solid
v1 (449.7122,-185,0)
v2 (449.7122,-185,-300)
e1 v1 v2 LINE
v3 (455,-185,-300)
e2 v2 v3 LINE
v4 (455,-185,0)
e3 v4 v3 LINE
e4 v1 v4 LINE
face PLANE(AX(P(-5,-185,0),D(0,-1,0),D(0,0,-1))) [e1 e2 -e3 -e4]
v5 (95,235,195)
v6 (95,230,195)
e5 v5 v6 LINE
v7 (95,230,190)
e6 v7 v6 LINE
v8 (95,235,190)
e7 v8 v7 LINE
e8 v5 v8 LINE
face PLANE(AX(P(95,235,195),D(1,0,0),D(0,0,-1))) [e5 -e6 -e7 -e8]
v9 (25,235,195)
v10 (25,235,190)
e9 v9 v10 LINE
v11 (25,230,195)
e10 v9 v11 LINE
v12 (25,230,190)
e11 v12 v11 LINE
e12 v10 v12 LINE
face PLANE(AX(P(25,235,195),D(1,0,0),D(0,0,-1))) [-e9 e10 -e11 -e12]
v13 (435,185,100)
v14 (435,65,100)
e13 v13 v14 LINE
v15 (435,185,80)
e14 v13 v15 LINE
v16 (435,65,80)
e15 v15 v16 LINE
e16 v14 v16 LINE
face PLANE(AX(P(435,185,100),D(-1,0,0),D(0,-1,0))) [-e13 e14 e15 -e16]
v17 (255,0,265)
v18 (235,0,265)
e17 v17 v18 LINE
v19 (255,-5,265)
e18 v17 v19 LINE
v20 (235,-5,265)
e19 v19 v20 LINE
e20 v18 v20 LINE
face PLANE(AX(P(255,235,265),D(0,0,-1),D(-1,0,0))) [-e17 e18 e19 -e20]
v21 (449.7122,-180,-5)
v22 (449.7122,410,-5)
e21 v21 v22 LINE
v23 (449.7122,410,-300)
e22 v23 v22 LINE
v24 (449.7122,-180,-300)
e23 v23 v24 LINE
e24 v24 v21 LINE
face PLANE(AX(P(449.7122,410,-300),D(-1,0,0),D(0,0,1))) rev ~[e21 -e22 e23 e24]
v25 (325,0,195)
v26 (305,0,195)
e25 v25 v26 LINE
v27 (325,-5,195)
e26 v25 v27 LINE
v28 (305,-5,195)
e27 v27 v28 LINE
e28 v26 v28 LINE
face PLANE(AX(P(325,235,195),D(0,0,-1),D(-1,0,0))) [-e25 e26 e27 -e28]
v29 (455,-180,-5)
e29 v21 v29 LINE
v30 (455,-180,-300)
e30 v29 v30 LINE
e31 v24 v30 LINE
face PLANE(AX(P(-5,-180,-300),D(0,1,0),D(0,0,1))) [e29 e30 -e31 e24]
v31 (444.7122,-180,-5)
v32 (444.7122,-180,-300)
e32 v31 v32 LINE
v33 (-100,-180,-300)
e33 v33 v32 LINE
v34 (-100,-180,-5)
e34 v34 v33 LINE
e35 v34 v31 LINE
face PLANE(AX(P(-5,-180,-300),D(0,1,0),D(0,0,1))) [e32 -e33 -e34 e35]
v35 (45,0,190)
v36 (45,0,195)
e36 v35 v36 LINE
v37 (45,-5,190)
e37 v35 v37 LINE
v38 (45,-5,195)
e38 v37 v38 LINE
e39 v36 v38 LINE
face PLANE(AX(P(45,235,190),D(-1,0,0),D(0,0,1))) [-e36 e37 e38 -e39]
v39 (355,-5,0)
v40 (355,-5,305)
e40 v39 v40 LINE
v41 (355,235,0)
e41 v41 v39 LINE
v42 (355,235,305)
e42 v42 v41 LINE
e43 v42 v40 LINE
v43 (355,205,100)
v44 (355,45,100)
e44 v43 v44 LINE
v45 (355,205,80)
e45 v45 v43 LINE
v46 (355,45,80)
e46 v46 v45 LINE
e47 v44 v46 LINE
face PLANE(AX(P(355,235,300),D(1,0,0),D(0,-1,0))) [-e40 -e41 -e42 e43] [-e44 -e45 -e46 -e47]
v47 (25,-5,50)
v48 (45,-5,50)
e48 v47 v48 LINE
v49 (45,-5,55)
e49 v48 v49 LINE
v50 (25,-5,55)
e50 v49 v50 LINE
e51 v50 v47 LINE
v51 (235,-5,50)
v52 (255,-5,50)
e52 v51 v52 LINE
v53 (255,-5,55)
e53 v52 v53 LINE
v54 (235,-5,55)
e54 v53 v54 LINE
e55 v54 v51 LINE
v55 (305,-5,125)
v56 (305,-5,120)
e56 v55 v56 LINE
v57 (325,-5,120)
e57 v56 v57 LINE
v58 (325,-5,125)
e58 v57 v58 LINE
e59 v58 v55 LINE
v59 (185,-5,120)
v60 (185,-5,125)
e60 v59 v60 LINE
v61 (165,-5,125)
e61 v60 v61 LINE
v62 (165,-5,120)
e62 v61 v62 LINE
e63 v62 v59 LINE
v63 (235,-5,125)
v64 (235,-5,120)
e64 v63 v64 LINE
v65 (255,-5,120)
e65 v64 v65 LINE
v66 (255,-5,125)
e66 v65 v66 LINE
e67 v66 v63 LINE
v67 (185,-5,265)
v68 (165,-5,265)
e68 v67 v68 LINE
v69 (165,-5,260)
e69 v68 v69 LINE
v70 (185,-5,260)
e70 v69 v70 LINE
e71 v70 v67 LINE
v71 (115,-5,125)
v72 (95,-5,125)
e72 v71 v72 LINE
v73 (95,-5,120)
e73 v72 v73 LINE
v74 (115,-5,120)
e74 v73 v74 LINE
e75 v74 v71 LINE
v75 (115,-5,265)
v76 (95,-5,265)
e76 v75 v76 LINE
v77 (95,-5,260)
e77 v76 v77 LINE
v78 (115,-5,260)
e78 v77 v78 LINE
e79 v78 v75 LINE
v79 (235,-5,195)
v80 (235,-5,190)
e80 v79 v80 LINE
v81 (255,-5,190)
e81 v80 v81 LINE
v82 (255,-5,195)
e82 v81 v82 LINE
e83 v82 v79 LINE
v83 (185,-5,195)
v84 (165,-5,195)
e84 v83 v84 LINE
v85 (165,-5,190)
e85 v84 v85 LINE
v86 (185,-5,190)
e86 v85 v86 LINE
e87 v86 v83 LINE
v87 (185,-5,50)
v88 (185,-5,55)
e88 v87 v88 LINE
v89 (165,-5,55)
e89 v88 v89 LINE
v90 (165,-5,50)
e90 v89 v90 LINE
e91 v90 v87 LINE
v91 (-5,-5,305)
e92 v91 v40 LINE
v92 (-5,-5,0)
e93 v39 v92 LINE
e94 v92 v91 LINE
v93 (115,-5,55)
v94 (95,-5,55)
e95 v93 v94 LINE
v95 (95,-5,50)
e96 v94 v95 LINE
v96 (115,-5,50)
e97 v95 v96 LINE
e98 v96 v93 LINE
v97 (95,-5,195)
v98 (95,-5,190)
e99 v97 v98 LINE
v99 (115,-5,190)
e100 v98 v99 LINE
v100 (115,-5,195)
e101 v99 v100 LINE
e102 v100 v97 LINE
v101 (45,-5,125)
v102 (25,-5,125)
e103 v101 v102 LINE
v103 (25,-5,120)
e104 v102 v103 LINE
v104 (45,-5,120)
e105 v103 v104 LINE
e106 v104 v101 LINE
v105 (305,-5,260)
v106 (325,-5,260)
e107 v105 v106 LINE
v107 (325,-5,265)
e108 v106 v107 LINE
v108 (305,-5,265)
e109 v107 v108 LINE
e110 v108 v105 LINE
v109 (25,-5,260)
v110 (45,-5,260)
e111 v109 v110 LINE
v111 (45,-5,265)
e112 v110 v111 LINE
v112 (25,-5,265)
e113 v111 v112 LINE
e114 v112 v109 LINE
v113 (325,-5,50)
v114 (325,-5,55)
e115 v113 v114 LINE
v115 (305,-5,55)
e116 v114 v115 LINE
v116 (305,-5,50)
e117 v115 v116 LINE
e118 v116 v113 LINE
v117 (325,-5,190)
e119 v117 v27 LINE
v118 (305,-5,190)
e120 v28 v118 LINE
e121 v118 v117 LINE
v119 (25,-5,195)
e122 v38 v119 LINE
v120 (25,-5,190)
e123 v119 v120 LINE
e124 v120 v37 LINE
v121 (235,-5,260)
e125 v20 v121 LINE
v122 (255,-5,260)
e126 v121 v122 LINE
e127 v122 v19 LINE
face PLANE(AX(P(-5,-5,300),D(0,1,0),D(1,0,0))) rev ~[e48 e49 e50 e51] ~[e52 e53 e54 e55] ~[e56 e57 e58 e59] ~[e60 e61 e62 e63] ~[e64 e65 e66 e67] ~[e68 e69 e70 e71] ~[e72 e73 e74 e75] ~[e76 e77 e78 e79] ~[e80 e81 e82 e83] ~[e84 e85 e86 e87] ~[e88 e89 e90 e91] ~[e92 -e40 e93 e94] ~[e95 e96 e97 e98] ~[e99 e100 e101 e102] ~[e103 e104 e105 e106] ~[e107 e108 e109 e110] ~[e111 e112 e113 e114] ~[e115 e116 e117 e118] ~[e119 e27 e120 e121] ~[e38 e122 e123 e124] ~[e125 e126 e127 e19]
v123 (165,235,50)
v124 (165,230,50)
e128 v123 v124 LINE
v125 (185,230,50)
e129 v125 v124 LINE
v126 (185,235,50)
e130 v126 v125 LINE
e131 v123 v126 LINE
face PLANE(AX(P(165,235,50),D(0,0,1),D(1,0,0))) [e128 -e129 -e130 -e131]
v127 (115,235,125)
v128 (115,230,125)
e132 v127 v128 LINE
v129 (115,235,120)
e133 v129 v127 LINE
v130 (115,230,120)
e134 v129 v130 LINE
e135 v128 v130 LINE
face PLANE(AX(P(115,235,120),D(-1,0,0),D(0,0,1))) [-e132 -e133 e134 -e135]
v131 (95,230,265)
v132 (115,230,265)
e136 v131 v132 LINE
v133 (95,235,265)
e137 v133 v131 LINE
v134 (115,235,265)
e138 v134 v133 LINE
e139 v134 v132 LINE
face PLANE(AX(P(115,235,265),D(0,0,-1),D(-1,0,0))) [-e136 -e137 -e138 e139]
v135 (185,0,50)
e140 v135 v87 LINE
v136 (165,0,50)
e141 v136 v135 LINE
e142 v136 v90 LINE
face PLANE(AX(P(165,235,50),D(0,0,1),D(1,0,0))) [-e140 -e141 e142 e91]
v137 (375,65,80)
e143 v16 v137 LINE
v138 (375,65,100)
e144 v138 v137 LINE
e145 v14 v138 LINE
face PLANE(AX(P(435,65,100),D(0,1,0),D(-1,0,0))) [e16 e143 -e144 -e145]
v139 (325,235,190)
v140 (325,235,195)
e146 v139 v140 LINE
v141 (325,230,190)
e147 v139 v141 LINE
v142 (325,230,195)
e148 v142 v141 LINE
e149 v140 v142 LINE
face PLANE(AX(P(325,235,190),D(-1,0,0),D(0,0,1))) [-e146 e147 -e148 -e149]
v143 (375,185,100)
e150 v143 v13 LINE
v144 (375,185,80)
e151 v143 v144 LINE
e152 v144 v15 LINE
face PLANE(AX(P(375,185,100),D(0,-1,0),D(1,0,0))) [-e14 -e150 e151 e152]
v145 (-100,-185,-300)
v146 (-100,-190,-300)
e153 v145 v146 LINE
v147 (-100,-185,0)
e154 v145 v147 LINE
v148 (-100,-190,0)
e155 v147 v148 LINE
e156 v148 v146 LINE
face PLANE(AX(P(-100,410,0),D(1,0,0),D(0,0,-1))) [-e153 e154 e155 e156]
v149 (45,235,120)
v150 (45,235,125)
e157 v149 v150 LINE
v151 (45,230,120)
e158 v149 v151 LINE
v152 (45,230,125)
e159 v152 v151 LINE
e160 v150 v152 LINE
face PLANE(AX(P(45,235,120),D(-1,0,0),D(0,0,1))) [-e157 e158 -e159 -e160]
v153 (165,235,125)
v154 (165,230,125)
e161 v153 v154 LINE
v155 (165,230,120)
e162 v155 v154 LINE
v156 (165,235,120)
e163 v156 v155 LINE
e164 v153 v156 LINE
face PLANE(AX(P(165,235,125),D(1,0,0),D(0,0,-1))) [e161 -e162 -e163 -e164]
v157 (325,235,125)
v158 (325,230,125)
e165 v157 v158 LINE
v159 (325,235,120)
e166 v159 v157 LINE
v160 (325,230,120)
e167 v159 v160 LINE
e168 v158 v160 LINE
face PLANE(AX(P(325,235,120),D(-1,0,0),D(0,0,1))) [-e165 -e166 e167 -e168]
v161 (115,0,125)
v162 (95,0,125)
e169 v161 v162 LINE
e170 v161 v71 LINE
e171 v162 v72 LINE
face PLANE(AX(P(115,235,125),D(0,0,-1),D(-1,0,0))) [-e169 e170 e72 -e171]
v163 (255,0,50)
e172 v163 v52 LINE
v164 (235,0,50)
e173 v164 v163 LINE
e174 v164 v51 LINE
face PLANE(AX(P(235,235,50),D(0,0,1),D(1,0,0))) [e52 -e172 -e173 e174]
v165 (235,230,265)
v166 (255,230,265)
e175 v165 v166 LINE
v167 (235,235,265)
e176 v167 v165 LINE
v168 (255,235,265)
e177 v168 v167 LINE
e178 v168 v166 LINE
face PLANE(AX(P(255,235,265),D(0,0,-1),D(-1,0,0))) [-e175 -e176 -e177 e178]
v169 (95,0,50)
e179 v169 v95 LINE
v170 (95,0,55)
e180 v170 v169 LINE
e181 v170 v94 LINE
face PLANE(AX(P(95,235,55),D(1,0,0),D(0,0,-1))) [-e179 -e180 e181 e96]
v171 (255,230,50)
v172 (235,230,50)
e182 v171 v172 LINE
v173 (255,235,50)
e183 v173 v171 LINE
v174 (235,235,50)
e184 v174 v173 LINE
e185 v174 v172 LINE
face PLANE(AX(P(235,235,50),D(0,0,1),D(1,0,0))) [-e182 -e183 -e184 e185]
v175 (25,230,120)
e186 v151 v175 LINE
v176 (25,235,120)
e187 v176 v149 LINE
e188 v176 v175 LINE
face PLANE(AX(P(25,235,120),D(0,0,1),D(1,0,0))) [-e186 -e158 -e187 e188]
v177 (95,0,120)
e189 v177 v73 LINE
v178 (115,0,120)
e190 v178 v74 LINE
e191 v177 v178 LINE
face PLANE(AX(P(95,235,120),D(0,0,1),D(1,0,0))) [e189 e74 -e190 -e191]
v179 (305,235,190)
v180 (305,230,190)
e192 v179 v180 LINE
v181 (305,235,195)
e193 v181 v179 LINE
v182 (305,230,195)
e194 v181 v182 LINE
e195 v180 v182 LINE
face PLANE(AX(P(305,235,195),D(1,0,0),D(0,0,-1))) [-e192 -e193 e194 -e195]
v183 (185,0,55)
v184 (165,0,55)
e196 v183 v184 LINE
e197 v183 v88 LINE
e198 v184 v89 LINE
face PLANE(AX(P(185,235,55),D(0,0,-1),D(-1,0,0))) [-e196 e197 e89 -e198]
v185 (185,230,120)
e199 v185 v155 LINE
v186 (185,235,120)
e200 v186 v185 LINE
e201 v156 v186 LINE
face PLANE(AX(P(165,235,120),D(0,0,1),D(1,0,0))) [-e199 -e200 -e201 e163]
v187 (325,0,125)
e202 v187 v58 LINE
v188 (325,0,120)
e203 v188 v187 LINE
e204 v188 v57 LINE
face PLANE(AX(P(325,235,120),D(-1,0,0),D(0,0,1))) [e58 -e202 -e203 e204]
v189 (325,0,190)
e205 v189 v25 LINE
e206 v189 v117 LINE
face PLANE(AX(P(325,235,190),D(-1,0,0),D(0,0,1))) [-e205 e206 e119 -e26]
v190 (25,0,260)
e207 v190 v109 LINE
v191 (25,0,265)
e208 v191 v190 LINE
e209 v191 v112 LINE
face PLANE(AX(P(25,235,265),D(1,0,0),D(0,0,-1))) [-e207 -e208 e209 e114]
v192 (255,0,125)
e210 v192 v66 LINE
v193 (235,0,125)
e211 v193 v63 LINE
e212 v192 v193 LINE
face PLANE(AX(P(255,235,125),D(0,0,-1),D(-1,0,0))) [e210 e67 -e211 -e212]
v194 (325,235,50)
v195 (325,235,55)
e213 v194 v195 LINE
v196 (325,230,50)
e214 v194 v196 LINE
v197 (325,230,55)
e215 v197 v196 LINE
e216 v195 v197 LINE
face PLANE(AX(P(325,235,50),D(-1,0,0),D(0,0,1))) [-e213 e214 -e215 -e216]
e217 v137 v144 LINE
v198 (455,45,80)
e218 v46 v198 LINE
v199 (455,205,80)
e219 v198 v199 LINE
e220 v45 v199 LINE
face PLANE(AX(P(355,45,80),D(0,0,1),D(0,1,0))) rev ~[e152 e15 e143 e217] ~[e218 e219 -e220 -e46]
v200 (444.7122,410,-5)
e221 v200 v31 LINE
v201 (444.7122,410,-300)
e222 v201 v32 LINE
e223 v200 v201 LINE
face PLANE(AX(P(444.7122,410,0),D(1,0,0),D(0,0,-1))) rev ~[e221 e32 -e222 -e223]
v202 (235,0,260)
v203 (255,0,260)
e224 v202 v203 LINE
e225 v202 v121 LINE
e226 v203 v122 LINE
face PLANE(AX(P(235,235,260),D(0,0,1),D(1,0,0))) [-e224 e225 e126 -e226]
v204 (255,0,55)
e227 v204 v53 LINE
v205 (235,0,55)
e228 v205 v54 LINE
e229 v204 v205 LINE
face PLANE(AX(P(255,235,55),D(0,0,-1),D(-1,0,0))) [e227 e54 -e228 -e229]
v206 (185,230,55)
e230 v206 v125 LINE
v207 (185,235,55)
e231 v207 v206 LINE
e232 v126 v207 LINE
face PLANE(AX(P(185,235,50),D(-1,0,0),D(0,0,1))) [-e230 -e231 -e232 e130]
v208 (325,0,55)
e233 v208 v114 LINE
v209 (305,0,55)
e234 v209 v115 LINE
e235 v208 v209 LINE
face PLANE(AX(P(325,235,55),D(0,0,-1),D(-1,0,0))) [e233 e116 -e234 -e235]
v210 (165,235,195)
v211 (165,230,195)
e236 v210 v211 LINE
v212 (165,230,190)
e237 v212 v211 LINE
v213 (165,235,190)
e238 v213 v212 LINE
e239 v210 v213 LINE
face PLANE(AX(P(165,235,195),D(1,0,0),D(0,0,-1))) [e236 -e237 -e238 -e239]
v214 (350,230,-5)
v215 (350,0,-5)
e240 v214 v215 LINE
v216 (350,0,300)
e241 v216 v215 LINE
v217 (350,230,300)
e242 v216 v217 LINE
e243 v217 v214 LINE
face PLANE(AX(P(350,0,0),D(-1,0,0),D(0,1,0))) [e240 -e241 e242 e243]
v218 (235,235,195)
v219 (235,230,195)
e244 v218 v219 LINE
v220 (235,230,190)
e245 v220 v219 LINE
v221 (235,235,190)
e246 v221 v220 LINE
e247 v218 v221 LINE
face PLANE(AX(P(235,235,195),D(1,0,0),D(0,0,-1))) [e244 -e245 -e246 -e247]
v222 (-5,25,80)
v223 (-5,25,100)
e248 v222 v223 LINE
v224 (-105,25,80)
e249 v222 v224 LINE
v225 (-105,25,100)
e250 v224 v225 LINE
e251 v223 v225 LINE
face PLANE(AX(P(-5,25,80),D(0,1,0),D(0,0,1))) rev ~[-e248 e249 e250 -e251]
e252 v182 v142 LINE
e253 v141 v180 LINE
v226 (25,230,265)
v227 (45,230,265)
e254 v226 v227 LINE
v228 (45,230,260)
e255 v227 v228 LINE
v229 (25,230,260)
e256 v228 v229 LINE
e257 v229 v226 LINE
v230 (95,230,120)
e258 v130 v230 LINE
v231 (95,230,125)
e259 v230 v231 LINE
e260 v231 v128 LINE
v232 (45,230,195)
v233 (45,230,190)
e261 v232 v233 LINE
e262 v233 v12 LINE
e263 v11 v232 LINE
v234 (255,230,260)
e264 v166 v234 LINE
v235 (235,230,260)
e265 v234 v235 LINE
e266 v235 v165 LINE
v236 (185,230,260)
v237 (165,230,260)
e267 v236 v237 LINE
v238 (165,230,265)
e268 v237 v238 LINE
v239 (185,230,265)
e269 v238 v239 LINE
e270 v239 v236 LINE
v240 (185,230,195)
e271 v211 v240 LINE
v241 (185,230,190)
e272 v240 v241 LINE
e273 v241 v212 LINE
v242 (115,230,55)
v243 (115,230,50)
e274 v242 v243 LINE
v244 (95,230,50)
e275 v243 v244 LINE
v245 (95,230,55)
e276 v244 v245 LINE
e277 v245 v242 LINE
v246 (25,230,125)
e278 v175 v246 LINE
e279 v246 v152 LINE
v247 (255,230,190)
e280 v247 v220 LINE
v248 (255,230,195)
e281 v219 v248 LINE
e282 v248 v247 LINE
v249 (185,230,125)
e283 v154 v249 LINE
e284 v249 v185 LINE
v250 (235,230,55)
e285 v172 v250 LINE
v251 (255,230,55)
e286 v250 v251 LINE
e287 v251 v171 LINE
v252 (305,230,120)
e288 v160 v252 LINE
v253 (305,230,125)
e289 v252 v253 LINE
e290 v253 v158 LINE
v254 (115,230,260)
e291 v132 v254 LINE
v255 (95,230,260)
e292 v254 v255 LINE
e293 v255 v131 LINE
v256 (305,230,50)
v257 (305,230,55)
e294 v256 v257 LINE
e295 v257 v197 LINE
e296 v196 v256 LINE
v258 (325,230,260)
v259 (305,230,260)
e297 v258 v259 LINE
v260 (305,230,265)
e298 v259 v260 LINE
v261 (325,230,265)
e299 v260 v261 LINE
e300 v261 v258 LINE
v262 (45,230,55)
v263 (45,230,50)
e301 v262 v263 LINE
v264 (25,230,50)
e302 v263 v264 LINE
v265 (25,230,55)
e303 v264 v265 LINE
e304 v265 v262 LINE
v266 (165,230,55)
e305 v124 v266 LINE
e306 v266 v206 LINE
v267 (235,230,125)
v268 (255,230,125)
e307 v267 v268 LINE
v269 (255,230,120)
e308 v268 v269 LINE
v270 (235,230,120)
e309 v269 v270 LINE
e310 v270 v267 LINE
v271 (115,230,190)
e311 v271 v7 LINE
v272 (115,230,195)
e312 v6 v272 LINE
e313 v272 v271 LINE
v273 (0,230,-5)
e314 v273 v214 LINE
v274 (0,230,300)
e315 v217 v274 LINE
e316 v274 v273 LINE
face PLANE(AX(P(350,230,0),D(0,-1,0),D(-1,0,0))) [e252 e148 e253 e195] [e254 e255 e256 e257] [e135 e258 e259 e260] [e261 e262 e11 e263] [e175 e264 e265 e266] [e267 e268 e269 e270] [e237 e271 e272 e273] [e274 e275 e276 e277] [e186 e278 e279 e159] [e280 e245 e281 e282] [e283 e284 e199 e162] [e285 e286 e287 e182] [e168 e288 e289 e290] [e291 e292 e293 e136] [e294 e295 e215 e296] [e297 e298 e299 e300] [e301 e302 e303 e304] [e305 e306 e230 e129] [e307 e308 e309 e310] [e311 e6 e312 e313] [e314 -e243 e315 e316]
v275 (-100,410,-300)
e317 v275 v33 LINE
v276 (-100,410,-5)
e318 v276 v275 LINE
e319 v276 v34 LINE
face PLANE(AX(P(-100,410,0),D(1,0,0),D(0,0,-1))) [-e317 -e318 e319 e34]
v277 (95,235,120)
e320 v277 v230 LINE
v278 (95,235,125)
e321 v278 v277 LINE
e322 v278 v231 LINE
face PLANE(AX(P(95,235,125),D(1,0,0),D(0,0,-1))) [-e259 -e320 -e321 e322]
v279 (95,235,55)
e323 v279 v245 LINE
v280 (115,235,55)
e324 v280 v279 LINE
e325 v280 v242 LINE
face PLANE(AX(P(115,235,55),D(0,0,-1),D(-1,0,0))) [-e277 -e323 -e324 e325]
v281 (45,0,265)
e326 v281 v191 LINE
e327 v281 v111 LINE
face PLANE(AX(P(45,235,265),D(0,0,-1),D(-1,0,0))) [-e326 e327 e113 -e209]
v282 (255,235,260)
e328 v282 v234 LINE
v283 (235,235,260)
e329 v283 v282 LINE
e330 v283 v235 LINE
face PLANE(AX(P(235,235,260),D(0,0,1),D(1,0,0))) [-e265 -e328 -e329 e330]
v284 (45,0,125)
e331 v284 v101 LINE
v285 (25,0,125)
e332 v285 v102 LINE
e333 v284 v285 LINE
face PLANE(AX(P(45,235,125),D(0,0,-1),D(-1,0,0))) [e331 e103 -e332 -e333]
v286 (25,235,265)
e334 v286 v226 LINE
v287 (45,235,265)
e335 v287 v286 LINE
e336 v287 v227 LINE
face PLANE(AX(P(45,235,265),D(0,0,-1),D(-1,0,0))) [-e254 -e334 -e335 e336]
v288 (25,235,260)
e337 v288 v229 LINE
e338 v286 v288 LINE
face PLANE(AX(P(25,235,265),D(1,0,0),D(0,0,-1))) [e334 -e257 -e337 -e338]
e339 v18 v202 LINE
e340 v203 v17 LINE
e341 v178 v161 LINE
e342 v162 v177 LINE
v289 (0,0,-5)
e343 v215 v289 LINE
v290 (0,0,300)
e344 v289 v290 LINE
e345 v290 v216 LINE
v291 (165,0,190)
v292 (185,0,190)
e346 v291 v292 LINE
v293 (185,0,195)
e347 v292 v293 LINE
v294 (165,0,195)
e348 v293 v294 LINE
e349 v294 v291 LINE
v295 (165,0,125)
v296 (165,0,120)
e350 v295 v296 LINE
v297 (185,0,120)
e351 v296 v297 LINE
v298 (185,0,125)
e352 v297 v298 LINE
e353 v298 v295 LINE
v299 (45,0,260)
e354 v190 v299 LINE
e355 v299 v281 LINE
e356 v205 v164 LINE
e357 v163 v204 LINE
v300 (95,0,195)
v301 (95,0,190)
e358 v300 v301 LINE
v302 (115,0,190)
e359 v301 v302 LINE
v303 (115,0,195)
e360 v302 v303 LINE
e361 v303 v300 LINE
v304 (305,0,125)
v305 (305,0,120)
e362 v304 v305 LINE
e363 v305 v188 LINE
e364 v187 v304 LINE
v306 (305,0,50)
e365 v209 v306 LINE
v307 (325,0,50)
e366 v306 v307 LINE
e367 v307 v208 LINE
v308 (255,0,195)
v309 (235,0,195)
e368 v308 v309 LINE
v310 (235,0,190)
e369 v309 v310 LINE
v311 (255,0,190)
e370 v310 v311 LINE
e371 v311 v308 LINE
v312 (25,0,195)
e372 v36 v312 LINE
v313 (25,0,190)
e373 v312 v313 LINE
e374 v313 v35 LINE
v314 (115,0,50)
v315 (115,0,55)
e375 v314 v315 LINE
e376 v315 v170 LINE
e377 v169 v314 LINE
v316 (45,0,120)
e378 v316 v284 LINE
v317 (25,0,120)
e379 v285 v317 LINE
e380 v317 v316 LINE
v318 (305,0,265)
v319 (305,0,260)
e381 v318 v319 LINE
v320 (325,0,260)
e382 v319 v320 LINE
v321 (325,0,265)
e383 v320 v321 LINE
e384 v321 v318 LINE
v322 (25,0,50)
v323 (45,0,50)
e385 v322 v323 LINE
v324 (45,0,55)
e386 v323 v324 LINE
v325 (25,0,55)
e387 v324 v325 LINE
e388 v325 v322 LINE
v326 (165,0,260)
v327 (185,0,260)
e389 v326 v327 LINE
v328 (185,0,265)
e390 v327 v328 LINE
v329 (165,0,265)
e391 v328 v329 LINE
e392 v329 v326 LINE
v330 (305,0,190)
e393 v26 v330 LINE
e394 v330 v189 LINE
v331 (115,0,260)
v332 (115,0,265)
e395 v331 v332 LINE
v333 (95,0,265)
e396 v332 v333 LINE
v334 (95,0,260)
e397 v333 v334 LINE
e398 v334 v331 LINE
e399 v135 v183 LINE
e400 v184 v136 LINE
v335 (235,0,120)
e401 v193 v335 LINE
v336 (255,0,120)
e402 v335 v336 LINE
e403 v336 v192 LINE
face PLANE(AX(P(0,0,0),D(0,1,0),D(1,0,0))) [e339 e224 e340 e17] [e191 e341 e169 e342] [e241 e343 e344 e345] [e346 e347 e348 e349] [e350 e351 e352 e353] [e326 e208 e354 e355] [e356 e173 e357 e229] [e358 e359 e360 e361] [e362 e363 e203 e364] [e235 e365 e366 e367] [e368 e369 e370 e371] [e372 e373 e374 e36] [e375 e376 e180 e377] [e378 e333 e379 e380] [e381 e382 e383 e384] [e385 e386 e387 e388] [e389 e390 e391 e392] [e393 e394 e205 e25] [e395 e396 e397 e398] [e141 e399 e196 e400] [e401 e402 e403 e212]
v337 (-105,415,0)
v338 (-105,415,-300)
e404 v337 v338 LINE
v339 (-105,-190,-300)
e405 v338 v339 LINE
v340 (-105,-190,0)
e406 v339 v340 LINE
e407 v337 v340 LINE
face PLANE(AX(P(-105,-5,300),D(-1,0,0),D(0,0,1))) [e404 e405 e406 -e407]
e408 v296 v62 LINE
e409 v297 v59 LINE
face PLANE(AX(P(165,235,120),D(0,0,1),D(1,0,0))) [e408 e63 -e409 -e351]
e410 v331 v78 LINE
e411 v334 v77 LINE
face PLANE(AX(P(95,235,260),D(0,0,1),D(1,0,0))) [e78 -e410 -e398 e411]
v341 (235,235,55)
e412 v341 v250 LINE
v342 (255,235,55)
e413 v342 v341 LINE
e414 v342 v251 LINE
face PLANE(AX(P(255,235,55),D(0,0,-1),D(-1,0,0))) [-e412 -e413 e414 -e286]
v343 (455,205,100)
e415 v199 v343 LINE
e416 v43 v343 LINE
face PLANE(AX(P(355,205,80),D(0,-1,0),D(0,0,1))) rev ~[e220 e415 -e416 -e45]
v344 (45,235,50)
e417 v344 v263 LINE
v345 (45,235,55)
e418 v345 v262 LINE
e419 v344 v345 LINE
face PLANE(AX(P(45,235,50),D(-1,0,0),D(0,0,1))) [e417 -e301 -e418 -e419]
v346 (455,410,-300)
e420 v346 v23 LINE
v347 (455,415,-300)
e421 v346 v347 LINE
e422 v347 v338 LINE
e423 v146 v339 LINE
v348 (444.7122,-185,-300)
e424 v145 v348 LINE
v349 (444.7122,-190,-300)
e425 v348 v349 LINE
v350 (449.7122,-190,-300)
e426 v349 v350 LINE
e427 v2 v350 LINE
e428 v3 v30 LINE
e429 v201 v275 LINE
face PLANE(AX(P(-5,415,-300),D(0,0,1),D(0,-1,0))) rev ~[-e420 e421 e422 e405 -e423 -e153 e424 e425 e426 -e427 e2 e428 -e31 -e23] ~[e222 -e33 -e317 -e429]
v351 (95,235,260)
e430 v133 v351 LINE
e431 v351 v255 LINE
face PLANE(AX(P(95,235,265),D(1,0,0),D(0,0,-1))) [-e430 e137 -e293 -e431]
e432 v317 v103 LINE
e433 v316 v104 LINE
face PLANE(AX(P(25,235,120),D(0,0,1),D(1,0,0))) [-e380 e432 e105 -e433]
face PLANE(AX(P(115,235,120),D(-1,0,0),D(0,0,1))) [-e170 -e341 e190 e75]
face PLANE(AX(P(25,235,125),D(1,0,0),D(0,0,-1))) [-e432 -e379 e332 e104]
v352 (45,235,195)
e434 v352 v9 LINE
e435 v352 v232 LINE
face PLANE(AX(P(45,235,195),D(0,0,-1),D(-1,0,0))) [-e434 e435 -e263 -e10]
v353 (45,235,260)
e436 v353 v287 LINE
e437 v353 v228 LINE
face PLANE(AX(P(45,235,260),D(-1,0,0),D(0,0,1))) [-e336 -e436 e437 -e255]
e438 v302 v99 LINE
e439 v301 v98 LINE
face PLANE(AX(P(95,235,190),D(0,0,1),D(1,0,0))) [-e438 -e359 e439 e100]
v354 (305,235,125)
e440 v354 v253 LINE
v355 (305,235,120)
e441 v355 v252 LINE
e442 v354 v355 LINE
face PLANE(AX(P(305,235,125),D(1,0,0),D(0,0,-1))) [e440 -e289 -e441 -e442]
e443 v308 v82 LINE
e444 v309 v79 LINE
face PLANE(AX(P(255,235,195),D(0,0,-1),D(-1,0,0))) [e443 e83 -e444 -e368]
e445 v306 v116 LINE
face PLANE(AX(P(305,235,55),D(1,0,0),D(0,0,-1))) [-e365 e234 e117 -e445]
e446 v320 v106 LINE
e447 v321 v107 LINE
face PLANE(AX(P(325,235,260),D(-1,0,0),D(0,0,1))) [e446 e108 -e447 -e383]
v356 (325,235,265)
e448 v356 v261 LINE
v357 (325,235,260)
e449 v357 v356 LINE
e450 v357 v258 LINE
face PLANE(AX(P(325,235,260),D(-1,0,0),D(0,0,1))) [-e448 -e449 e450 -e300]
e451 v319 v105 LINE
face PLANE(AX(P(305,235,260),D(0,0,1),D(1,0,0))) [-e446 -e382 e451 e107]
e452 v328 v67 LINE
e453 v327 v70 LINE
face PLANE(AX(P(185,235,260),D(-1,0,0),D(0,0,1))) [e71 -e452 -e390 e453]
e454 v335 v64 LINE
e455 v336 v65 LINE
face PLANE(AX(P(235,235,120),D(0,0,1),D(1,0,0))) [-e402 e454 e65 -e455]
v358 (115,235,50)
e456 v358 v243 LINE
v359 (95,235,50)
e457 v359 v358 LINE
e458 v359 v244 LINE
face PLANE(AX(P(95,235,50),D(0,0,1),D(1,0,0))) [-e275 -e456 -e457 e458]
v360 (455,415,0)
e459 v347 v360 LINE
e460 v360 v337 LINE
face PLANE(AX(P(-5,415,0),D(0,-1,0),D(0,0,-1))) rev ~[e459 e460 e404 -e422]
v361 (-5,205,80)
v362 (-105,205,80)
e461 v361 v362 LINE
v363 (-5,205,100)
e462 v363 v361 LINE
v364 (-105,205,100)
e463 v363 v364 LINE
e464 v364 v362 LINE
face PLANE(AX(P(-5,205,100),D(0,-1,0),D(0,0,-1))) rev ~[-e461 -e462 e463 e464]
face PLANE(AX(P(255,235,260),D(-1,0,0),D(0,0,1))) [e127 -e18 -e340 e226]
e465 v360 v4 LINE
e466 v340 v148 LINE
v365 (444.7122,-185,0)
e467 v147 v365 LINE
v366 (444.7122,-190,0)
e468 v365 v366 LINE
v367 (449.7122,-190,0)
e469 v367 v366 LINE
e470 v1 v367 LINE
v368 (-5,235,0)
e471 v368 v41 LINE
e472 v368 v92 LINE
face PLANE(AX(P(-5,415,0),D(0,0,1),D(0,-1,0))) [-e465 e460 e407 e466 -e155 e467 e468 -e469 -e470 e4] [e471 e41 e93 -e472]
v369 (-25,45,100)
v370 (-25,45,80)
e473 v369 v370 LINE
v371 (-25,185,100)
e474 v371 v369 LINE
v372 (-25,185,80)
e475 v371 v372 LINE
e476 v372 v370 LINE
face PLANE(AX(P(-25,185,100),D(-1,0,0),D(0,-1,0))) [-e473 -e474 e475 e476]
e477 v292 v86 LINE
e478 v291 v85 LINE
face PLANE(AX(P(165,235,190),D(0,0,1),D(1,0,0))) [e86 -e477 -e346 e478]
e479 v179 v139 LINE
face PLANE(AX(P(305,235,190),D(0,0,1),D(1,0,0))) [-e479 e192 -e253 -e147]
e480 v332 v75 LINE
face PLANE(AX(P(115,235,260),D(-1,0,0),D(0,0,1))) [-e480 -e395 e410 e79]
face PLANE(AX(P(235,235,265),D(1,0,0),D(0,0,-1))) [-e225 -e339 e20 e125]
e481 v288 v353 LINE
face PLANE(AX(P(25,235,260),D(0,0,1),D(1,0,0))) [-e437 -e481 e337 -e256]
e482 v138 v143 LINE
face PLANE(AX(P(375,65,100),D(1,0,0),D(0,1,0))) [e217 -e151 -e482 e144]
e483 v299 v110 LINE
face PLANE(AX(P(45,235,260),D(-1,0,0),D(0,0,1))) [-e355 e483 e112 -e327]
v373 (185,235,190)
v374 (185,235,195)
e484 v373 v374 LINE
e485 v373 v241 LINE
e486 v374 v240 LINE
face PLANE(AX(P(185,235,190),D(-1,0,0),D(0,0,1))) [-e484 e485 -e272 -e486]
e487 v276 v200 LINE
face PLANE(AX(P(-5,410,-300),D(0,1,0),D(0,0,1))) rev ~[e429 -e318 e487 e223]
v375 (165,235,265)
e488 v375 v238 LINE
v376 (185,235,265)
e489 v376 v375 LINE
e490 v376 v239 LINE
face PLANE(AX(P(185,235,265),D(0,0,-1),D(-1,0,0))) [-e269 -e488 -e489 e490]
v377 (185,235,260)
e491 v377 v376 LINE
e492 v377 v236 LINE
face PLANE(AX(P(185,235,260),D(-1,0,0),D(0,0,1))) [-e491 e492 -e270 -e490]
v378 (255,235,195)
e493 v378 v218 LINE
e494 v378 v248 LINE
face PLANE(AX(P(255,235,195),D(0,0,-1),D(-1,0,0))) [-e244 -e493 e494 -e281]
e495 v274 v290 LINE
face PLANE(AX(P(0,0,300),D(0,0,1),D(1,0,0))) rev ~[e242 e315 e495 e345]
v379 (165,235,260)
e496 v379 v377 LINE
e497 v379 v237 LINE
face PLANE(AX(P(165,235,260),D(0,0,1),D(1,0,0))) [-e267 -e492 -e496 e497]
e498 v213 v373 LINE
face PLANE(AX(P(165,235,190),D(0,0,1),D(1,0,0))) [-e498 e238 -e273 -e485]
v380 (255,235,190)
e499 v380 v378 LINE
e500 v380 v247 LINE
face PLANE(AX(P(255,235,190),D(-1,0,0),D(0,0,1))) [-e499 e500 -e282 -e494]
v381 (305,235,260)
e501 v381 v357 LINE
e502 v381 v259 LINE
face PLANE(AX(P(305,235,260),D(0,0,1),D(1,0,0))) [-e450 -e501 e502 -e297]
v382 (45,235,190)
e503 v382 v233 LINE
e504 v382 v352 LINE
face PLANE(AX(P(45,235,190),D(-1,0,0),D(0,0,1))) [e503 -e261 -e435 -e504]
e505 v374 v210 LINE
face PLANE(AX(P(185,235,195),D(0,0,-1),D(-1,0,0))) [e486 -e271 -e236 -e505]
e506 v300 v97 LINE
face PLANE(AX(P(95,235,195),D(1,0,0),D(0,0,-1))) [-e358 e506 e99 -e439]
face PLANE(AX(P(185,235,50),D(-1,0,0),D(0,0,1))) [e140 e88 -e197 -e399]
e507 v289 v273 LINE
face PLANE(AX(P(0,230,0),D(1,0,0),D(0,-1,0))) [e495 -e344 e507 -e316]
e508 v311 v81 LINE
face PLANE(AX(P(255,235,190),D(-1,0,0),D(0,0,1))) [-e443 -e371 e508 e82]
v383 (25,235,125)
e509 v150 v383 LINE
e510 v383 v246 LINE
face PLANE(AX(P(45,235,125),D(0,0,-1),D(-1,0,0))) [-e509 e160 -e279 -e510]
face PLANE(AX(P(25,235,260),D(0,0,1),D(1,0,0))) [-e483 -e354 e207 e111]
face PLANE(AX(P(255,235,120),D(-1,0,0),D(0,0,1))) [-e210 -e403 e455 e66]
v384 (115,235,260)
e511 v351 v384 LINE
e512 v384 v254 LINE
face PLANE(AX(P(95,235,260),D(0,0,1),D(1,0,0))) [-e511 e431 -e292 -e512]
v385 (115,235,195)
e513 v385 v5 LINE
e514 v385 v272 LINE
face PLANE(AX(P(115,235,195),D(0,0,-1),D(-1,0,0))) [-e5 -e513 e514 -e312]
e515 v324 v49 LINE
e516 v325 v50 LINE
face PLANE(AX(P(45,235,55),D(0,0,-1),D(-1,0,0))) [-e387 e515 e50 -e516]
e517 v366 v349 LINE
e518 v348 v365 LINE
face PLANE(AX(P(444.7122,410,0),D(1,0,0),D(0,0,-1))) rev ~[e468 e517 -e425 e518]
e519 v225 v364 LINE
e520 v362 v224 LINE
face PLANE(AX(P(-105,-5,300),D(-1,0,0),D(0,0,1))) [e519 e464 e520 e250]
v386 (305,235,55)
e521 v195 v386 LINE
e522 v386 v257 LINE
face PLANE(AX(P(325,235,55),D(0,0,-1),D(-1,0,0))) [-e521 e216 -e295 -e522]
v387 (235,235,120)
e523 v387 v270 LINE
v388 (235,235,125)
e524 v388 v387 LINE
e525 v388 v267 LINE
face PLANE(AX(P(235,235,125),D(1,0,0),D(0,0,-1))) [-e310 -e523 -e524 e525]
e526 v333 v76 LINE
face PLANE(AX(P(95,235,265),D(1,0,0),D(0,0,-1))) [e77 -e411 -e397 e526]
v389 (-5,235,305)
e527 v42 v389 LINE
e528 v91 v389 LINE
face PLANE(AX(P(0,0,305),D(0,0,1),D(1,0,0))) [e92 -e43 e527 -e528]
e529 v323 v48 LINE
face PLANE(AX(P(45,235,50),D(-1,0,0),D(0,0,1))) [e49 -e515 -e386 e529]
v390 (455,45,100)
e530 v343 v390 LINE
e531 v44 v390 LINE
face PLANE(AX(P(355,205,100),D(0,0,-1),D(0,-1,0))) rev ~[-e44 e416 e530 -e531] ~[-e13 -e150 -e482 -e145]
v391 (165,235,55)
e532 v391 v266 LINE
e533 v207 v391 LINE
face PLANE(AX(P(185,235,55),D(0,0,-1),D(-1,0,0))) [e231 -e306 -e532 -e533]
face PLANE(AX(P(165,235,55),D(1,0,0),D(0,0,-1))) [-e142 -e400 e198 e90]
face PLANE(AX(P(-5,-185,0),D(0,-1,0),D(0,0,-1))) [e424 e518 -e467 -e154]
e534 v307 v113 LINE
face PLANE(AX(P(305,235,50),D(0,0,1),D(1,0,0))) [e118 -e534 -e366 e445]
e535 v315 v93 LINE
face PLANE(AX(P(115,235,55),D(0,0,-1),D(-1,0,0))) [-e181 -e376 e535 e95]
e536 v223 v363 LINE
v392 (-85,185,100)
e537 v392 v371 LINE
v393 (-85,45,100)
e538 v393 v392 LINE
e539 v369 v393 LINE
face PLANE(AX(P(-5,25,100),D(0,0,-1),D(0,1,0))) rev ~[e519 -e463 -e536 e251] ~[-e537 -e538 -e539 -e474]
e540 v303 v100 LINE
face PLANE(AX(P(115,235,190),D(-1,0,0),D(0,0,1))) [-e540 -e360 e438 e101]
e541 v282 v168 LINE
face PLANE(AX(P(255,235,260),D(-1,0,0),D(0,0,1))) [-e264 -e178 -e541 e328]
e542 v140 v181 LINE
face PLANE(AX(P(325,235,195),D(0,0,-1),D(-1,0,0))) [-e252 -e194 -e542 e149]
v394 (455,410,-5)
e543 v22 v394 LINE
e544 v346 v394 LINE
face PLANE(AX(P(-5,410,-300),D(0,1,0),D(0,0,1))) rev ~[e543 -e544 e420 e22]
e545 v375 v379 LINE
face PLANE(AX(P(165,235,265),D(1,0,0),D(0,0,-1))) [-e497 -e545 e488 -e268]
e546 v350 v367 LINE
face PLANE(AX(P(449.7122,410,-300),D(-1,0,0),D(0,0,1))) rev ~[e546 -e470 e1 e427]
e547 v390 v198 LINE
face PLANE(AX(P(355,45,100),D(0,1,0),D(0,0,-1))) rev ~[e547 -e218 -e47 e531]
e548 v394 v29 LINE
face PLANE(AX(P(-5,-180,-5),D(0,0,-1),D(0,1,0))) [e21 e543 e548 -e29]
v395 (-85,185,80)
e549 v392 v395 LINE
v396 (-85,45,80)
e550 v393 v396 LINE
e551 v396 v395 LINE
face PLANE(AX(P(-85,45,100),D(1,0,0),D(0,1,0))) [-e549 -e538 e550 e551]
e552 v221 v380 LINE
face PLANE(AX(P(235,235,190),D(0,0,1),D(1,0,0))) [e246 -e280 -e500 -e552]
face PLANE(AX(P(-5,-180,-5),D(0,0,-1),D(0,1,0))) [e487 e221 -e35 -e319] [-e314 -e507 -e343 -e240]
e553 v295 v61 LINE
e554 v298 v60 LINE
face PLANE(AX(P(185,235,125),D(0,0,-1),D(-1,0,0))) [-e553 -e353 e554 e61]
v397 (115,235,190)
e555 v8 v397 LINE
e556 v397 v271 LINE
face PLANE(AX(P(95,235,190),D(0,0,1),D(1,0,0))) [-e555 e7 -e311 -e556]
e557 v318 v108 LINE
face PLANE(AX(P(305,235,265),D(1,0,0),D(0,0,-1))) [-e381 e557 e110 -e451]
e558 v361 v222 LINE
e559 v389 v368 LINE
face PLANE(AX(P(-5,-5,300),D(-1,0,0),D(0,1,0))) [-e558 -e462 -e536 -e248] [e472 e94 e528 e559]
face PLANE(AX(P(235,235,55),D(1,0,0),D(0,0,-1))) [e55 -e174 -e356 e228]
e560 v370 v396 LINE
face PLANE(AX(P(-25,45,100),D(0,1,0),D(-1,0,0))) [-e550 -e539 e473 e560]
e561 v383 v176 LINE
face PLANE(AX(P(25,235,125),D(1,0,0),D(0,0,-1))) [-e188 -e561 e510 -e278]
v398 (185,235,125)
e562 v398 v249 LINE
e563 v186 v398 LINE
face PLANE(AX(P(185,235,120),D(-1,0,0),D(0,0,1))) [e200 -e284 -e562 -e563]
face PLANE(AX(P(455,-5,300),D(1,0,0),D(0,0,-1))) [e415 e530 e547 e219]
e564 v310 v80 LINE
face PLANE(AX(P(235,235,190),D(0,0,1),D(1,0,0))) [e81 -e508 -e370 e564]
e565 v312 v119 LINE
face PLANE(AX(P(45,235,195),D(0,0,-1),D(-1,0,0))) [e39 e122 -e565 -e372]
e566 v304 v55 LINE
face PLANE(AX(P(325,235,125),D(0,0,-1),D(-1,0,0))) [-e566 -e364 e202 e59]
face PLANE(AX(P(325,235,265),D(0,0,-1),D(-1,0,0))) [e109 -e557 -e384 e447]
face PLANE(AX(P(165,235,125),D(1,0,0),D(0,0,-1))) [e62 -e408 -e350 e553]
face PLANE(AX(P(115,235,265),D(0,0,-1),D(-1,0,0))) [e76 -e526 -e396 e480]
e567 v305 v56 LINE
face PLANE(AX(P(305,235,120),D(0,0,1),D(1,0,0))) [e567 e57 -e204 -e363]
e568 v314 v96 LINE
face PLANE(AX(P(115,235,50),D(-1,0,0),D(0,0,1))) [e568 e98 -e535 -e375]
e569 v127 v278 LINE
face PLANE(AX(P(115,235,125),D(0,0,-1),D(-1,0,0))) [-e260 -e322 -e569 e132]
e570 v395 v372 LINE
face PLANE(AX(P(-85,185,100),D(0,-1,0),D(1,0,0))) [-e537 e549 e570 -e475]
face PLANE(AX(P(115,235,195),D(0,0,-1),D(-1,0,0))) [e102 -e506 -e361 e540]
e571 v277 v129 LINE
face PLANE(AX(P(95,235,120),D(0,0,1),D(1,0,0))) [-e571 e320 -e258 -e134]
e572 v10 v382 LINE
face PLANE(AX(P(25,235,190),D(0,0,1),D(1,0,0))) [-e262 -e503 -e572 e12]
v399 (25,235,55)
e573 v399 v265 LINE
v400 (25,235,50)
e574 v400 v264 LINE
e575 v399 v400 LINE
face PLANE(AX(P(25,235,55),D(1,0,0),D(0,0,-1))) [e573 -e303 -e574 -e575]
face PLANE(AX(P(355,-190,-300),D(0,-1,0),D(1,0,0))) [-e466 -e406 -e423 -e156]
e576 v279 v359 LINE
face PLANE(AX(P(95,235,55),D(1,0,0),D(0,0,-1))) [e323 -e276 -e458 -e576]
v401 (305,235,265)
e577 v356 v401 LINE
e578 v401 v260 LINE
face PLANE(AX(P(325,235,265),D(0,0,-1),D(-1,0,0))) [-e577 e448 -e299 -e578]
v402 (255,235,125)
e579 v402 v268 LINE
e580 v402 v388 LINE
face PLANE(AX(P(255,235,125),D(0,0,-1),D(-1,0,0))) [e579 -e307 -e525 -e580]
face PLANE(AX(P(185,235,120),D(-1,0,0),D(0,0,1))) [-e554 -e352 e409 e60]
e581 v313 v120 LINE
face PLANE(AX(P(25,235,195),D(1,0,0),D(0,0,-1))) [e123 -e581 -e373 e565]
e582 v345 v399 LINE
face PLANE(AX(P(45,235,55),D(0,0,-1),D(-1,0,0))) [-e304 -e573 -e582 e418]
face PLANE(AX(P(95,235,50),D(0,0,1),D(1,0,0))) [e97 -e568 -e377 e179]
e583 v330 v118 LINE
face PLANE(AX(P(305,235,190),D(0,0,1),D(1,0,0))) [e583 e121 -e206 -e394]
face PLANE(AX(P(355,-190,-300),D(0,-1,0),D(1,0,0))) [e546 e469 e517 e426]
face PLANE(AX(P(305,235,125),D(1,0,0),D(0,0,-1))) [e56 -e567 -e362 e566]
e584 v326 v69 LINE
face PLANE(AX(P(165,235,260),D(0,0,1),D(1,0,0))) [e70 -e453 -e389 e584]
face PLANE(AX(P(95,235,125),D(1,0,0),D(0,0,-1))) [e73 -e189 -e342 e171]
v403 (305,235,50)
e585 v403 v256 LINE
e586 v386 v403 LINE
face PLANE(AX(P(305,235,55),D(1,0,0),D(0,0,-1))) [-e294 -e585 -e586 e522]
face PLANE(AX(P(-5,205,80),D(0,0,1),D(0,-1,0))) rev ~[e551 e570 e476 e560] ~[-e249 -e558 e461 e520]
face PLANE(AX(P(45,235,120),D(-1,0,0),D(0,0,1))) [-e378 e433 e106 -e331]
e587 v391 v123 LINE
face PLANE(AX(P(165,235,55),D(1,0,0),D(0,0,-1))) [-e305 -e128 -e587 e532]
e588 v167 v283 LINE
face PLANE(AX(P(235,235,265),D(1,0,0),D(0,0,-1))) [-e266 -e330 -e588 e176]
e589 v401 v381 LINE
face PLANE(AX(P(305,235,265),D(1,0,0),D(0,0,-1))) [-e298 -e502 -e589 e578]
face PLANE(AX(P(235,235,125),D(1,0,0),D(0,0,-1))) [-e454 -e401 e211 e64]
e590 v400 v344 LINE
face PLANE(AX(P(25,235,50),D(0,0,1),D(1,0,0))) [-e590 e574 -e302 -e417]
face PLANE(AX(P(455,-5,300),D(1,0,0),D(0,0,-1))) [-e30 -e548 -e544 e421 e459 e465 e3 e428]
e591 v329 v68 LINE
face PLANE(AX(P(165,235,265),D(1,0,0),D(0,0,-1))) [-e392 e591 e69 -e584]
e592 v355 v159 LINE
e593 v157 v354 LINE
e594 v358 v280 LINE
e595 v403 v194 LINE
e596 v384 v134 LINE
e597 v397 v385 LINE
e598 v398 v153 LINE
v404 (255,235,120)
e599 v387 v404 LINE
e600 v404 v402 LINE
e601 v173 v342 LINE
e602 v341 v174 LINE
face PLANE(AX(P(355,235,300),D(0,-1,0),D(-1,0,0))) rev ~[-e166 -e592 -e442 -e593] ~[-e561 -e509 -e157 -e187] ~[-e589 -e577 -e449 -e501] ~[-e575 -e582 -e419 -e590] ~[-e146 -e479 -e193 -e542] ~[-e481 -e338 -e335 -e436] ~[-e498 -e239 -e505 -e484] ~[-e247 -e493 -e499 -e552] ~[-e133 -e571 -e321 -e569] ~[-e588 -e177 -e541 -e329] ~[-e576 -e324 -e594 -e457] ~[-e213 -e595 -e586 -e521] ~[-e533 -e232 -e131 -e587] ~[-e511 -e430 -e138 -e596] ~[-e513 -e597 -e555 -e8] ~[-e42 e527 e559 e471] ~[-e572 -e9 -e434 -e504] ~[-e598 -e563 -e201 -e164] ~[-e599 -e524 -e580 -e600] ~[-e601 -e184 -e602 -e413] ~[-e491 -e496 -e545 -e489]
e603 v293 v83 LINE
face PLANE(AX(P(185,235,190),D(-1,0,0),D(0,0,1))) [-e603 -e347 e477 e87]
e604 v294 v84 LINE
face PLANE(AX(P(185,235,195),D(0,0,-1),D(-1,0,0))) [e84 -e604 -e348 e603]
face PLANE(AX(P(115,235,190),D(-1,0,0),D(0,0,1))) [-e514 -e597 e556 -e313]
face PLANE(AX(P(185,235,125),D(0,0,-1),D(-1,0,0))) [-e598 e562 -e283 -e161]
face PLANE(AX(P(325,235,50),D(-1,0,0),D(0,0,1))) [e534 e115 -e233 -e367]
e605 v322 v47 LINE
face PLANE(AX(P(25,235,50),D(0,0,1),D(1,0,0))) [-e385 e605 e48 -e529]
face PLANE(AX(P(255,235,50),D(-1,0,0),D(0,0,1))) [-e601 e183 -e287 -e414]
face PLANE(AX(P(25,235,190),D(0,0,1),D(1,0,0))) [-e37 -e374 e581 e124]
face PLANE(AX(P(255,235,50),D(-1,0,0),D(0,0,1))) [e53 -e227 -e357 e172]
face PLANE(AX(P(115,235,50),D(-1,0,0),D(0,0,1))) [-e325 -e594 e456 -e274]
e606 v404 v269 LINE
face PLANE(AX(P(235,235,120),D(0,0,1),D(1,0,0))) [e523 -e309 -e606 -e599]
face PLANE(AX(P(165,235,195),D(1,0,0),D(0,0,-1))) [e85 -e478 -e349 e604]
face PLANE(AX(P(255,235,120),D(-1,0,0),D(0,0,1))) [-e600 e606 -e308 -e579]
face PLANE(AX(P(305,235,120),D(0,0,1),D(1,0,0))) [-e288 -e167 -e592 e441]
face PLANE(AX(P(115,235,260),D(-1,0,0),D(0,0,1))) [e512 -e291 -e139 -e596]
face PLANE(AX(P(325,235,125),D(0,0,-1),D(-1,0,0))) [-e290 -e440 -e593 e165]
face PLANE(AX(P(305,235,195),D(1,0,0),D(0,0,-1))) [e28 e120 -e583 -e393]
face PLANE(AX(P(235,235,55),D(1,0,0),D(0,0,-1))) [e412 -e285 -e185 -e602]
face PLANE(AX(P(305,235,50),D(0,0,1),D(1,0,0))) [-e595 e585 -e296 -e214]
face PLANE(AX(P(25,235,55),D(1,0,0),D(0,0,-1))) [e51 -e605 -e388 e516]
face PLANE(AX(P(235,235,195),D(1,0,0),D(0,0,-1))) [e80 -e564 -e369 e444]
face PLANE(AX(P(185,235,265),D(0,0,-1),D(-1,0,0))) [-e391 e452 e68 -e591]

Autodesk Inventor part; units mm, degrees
ref_plane "YZ Plane" through (0, 0, 0) normal (1, 0, 0) x (0, 1, 0)
ref_plane "XZ Plane" through (0, 0, 0) normal (0, 1, 0) x (-1, 0, 0)
ref_plane "XY Plane" through (0, 0, 0) normal (0, 0, 1) x (1, 0, 0)
sketch "スケッチ1" plane through (0, 0, 0) normal (0, 0, 1) x (1, 0, 0)
  line L0 (0, 0) -> (350, 0)
  line L1 (350, 0) -> (350, 230)
  line L2 (350, 230) -> (0, 230)
  line L3 (0, 230) -> (0, 0)
  line L4 (-5, 235) -> (355, 235)
  line L5 (355, 235) -> (355, -5)
  line L6 (355, -5) -> (-5, -5)
  line L7 (-5, -5) -> (-5, 235)
  dimension "d0" = 350
  dimension "d1" = 230
  dimension "d2" = 5
extrude "押し出し1" add sketch "スケッチ1" along normal blind 300
sketch "スケッチ2" plane through (0, 0, 0) normal (0, 0, -1) x (-1, 0, 0)
  line L0 (-355, 235) -> (5, 235) projected
  line L1 (5, 235) -> (-355, 235)
  line L2 (-355, 235) -> (-355, 415)
  line L3 (-355, 415) -> (5, 415)
  line L4 (5, 415) -> (5, 235)
  line L5 (5, 415) -> (-355, 415)
  line L6 (-355, 415) -> (-355, -185)
  line L7 (-355, -185) -> (5, -185)
  line L8 (5, -185) -> (5, 415)
  line L9 (5, 235) -> (5, -5) projected
  line L10 (5, 115) -> (-355, 115)
  point P0 (0, 0)
  point P1 (-175, -185)
  dimension "d5" = 600
  dimension "d6" = 300
  dimension "d7" = 360
extrude "押し出し2" add sketch "スケッチ2" along normal blind 300
sketch "スケッチ3" plane through (0, 0, -300) normal (0, 0, -1) x (-1, 0, 0)
  line L0 (5, 415) -> (-355, 415) projected
  line L1 (-355, 415) -> (-355, -185) projected
  line L2 (-355, -185) -> (5, -185) projected
  line L3 (5, -185) -> (5, 415) projected
  line L4 (0, 410) -> (-350, 410)
  line L5 (-350, 410) -> (-350, -180)
  line L6 (-350, -180) -> (0, -180)
  line L7 (0, -180) -> (0, 410)
  point P0 (0, 0)
  dimension "d10" = 5
extrude "押し出し3" cut sketch "スケッチ3" against normal blind 295 contours L7 L6 L5 L4
sketch "スケッチ4" plane through (0, 0, 0) normal (0, 0, 1) x (1, 0, 0)
  line L0 (350, 230) -> (0, 230)
  line L1 (0, 230) -> (0, 0)
  line L2 (0, 0) -> (350, 0)
  line L3 (350, 0) -> (350, 230)
extrude "押し出し4" cut sketch "スケッチ4" against normal blind 295
sketch "スケッチ5" plane through (-5, -5, 300) normal (-1, 0, 0) x (0, 0, 1)
  line L0 (-200, 210) -> (-220, 210)
  line L1 (-220, 210) -> (-220, 30)
  line L2 (-220, 30) -> (-200, 30)
  line L3 (-200, 30) -> (-200, 210)
  line L4 (-300, 240) -> (0, 240) projected
  line L5 (-300, 0) -> (0, 0) projected
  line L6 (0, 240) -> (0, 0) projected
  point P0 (-300, 5)
  dimension "d15" = 30
  dimension "d16" = 30
  dimension "d17" = 20
  dimension "d18" = 200
extrude "押し出し5" add sketch "スケッチ5" along normal blind 100
sketch "スケッチ6" plane through (-5, 25, 100) normal (0, 0, 1) x (1, 0, 0)
  line L0 (0, 180) -> (0, 0) projected
  line L1 (0, 180) -> (-100, 180) projected
  line L2 (-100, 0) -> (-100, 180) projected
  line L3 (0, 0) -> (-100, 0) projected
  line L4 (-80, 160) -> (-20, 160)
  line L5 (-20, 160) -> (-20, 20)
  line L6 (-20, 20) -> (-80, 20)
  line L7 (-80, 20) -> (-80, 160)
  point P0 (5, -25)
  dimension "d21" = 20
extrude "押し出し6" cut sketch "スケッチ6" against normal blind 100 contours L4 L5 L6 L7
sketch "スケッチ8" plane through (355, -5, 300) normal (1, 0, 0) x (0, 0, -1)
  line L0 (200, 50) -> (220, 50) projected
  line L1 (200, 50) -> (220, 50)
  line L2 (220, 50) -> (220, 210)
  line L3 (220, 210) -> (200, 210)
  line L4 (200, 210) -> (200, 50)
  point P0 (300, 5)
extrude "押し出し7" add sketch "スケッチ8" along normal blind 100
sketch "スケッチ9" plane through (355, 45, 100) normal (0, 0, 1) x (1, 0, 0)
  line L0 (0, 0) -> (0, 160) projected
  line L1 (0, 0) -> (100, 0) projected
  line L2 (100, 160) -> (100, 0) projected
  line L3 (0, 160) -> (100, 160) projected
  line L4 (80, 140) -> (80, 20)
  line L5 (80, 20) -> (20, 20)
  line L6 (20, 20) -> (20, 140)
  line L7 (20, 140) -> (80, 140)
  point P0 (-355, -45)
  point P1 (50, 140)
  dimension "d26" = 20
extrude "押し出し8" cut sketch "スケッチ9" against normal blind 100 contours L4 L5 L6 L7
sketch "スケッチ10" plane through (355, -5, 300) normal (1, 0, 0) x (0, 0, -1)
  line L0 (305, -175) -> (305, 415) projected
  line L1 (600, -175) -> (600, 415) projected
  line L2 (305, -175) -> (600, -175)
  line L3 (600, -175) -> (600, 415)
  line L4 (600, 415) -> (305, 415)
  line L5 (305, 415) -> (305, -175)
  point P0 (300, 5)
extrude "押し出し9" cut sketch "スケッチ10" against normal through all
sketch "スケッチ11" plane through (355, -5, 300) normal (1, 0, 0) x (0, 0, -1)
  line L0 (300, -180) -> (600, -180)
  line L1 (600, -180) -> (600, 420)
  line L2 (600, 420) -> (300, 420)
  line L3 (300, 420) -> (300, -180)
  line L4 (305, -175) -> (600, -175)
  line L5 (600, -175) -> (600, 415)
  line L6 (600, 415) -> (305, 415)
  line L7 (305, 415) -> (305, -175)
  point P0 (300, 5)
  dimension "d31" = 5
extrude "押し出し10" add sketch "スケッチ11" along normal blind 100 contours L3 L2 L1 L6 L7 L4 L0
sketch "スケッチ12" plane through (-5, -5, 300) normal (-1, 0, 0) x (0, 0, 1)
  line L0 (-300, 420) -> (-300, -180) projected
  line L1 (-300, -180) -> (-600, -180) projected
  line L2 (-300, 420) -> (-600, 420)
  line L3 (-600, 420) -> (-600, -180)
  line L4 (-600, -180) -> (-300, -180)
  line L5 (-300, -180) -> (-300, 420)
  line L6 (-600, 415) -> (-305, 415) projected
  line L7 (-305, 415) -> (-600, 415)
  line L8 (-600, 415) -> (-600, -175)
  line L9 (-600, -175) -> (-305, -175)
  line L10 (-305, -175) -> (-305, 415)
  point P0 (-300, 5)
  point P1 (-452.5, -175)
  dimension "d34" = 5
extrude "押し出し11" add sketch "スケッチ12" along normal blind 100 contours L0 L1 L3 L9 L10 L6 L2
sketch "スケッチ13" plane through (0, 0, 300) normal (0, 0, 1) x (1, 0, 0)
  line L0 (-5, -5) -> (355, -5) projected
  line L1 (355, 235) -> (-5, 235) projected
  line L2 (355, -5) -> (-5, -5)
  line L3 (-5, -5) -> (-5, 235)
  line L4 (-5, 235) -> (355, 235)
  line L5 (355, 235) -> (355, -5)
  point P0 (0, 0)
extrude "押し出し12" add sketch "スケッチ13" along normal blind 5
sketch "スケッチ14" plane through (-5, 235, 0) normal (0, 1, 0) x (1, 0, 0)
  line L0 (330, -265) -> (310, -265)
  line L1 (310, -265) -> (310, -260)
  line L2 (310, -260) -> (330, -260)
  line L3 (330, -260) -> (330, -265)
  line L4 (360, -305) -> (0, -305) projected
  line L5 (360, 0) -> (360, -305) projected
  line L6 (260, -265) -> (240, -265)
  line L7 (260, -260) -> (260, -265)
  line L8 (240, -260) -> (260, -260)
  line L9 (240, -265) -> (240, -260)
  line L10 (190, -265) -> (170, -265)
  line L11 (190, -260) -> (190, -265)
  line L12 (170, -260) -> (190, -260)
  line L13 (170, -265) -> (170, -260)
  line L14 (120, -265) -> (100, -265)
  line L15 (120, -260) -> (120, -265)
  line L16 (100, -260) -> (120, -260)
  line L17 (100, -265) -> (100, -260)
  line L18 (50, -265) -> (30, -265)
  line L19 (50, -260) -> (50, -265)
  line L20 (30, -260) -> (50, -260)
  line L21 (30, -265) -> (30, -260)
  line L22 (0, 0) -> (0, -305) projected
  line L23 (190, -190) -> (190, -195)
  line L24 (190, -195) -> (170, -195)
  line L25 (170, -190) -> (190, -190)
  line L26 (170, -195) -> (170, -190)
  line L27 (120, -190) -> (120, -195)
  line L28 (120, -195) -> (100, -195)
  line L29 (100, -190) -> (120, -190)
  line L30 (100, -195) -> (100, -190)
  line L31 (50, -190) -> (50, -195)
  line L32 (30, -190) -> (50, -190)
  line L33 (50, -195) -> (30, -195)
  line L34 (30, -195) -> (30, -190)
  line L35 (240, -195) -> (240, -190)
  line L36 (260, -195) -> (240, -195)
  line L37 (240, -190) -> (260, -190)
  line L38 (260, -190) -> (260, -195)
  line L39 (310, -195) -> (310, -190)
  line L40 (330, -195) -> (310, -195)
  line L41 (310, -190) -> (330, -190)
  line L42 (330, -190) -> (330, -195)
  line L43 (190, -120) -> (190, -125)
  line L44 (190, -125) -> (170, -125)
  line L45 (170, -120) -> (190, -120)
  line L46 (170, -125) -> (170, -120)
  line L47 (120, -120) -> (120, -125)
  line L48 (120, -125) -> (100, -125)
  line L49 (100, -120) -> (120, -120)
  line L50 (100, -125) -> (100, -120)
  line L51 (50, -120) -> (50, -125)
  line L52 (30, -120) -> (50, -120)
  line L53 (50, -125) -> (30, -125)
  line L54 (30, -125) -> (30, -120)
  line L55 (240, -125) -> (240, -120)
  line L56 (260, -125) -> (240, -125)
  line L57 (240, -120) -> (260, -120)
  line L58 (260, -120) -> (260, -125)
  line L59 (310, -125) -> (310, -120)
  line L60 (330, -125) -> (310, -125)
  line L61 (310, -120) -> (330, -120)
  line L62 (330, -120) -> (330, -125)
  line L63 (190, -50) -> (190, -55)
  line L64 (190, -55) -> (170, -55)
  line L65 (170, -50) -> (190, -50)
  line L66 (170, -55) -> (170, -50)
  line L67 (120, -50) -> (120, -55)
  line L68 (120, -55) -> (100, -55)
  line L69 (100, -50) -> (120, -50)
  line L70 (100, -55) -> (100, -50)
  line L71 (50, -50) -> (50, -55)
  line L72 (30, -50) -> (50, -50)
  line L73 (50, -55) -> (30, -55)
  line L74 (30, -55) -> (30, -50)
  line L75 (240, -55) -> (240, -50)
  line L76 (260, -55) -> (240, -55)
  line L77 (240, -50) -> (260, -50)
  line L78 (260, -50) -> (260, -55)
  line L79 (310, -55) -> (310, -50)
  line L80 (330, -55) -> (310, -55)
  line L81 (310, -50) -> (330, -50)
  line L82 (330, -50) -> (330, -55)
  point P0 (5, 0)
  point P1 (320, -260)
  point P2 (250, -260)
  point P3 (180, -260)
  point P4 (110, -260)
  point P5 (40, -260)
  point P6 (30, -262.5)
  point P7 (30, -192.5)
  point P8 (180, -190)
  point P9 (110, -190)
  point P10 (40, -190)
  point P11 (250, -190)
  point P12 (320, -190)
  point P13 (30, -122.5)
  point P14 (180, -120)
  point P15 (110, -120)
  point P16 (40, -120)
  point P17 (250, -120)
  point P18 (320, -120)
  point P19 (30, -52.5)
  point P20 (180, -50)
  point P21 (110, -50)
  point P22 (40, -50)
  point P23 (250, -50)
  point P24 (320, -50)
  dimension "d39" = 20
  dimension "d40" = 5
  dimension "d41" = 40
  dimension "d42" = 30
  dimension "d45" = 70
  dimension "d50" = 30
  dimension "d53" = 70
extrude "押し出し13" cut sketch "スケッチ14" against normal through all
sketch "スケッチ15" plane through (355, 410, -300) normal (0, -1, 0) x (1, 0, 0)
  line L0 (-360, 0) -> (-460, 0) projected
  line L1 (-460, 300) -> (-455, 300)
  line L2 (-455, 300) -> (-455, 0)
  line L3 (-455, 0) -> (-460, 0)
  line L4 (-460, 0) -> (-460, 300)
  line L5 (94.7122, 300) -> (89.7122, 300)
  line L6 (89.7122, 300) -> (89.7122, 0)
  line L7 (89.7122, 0) -> (94.7122, 0)
  line L8 (94.7122, 0) -> (94.7122, 300)
  point P0 (-355, 300)
  dimension "d60" = 5
  dimension "d61" = 5
extrude "押し出し14" add sketch "スケッチ15" along normal blind 600
equation "\"d6\" = 0.5 * d5"
equation "\"d16\" = d15"
properties part number "RP_Exterior"
